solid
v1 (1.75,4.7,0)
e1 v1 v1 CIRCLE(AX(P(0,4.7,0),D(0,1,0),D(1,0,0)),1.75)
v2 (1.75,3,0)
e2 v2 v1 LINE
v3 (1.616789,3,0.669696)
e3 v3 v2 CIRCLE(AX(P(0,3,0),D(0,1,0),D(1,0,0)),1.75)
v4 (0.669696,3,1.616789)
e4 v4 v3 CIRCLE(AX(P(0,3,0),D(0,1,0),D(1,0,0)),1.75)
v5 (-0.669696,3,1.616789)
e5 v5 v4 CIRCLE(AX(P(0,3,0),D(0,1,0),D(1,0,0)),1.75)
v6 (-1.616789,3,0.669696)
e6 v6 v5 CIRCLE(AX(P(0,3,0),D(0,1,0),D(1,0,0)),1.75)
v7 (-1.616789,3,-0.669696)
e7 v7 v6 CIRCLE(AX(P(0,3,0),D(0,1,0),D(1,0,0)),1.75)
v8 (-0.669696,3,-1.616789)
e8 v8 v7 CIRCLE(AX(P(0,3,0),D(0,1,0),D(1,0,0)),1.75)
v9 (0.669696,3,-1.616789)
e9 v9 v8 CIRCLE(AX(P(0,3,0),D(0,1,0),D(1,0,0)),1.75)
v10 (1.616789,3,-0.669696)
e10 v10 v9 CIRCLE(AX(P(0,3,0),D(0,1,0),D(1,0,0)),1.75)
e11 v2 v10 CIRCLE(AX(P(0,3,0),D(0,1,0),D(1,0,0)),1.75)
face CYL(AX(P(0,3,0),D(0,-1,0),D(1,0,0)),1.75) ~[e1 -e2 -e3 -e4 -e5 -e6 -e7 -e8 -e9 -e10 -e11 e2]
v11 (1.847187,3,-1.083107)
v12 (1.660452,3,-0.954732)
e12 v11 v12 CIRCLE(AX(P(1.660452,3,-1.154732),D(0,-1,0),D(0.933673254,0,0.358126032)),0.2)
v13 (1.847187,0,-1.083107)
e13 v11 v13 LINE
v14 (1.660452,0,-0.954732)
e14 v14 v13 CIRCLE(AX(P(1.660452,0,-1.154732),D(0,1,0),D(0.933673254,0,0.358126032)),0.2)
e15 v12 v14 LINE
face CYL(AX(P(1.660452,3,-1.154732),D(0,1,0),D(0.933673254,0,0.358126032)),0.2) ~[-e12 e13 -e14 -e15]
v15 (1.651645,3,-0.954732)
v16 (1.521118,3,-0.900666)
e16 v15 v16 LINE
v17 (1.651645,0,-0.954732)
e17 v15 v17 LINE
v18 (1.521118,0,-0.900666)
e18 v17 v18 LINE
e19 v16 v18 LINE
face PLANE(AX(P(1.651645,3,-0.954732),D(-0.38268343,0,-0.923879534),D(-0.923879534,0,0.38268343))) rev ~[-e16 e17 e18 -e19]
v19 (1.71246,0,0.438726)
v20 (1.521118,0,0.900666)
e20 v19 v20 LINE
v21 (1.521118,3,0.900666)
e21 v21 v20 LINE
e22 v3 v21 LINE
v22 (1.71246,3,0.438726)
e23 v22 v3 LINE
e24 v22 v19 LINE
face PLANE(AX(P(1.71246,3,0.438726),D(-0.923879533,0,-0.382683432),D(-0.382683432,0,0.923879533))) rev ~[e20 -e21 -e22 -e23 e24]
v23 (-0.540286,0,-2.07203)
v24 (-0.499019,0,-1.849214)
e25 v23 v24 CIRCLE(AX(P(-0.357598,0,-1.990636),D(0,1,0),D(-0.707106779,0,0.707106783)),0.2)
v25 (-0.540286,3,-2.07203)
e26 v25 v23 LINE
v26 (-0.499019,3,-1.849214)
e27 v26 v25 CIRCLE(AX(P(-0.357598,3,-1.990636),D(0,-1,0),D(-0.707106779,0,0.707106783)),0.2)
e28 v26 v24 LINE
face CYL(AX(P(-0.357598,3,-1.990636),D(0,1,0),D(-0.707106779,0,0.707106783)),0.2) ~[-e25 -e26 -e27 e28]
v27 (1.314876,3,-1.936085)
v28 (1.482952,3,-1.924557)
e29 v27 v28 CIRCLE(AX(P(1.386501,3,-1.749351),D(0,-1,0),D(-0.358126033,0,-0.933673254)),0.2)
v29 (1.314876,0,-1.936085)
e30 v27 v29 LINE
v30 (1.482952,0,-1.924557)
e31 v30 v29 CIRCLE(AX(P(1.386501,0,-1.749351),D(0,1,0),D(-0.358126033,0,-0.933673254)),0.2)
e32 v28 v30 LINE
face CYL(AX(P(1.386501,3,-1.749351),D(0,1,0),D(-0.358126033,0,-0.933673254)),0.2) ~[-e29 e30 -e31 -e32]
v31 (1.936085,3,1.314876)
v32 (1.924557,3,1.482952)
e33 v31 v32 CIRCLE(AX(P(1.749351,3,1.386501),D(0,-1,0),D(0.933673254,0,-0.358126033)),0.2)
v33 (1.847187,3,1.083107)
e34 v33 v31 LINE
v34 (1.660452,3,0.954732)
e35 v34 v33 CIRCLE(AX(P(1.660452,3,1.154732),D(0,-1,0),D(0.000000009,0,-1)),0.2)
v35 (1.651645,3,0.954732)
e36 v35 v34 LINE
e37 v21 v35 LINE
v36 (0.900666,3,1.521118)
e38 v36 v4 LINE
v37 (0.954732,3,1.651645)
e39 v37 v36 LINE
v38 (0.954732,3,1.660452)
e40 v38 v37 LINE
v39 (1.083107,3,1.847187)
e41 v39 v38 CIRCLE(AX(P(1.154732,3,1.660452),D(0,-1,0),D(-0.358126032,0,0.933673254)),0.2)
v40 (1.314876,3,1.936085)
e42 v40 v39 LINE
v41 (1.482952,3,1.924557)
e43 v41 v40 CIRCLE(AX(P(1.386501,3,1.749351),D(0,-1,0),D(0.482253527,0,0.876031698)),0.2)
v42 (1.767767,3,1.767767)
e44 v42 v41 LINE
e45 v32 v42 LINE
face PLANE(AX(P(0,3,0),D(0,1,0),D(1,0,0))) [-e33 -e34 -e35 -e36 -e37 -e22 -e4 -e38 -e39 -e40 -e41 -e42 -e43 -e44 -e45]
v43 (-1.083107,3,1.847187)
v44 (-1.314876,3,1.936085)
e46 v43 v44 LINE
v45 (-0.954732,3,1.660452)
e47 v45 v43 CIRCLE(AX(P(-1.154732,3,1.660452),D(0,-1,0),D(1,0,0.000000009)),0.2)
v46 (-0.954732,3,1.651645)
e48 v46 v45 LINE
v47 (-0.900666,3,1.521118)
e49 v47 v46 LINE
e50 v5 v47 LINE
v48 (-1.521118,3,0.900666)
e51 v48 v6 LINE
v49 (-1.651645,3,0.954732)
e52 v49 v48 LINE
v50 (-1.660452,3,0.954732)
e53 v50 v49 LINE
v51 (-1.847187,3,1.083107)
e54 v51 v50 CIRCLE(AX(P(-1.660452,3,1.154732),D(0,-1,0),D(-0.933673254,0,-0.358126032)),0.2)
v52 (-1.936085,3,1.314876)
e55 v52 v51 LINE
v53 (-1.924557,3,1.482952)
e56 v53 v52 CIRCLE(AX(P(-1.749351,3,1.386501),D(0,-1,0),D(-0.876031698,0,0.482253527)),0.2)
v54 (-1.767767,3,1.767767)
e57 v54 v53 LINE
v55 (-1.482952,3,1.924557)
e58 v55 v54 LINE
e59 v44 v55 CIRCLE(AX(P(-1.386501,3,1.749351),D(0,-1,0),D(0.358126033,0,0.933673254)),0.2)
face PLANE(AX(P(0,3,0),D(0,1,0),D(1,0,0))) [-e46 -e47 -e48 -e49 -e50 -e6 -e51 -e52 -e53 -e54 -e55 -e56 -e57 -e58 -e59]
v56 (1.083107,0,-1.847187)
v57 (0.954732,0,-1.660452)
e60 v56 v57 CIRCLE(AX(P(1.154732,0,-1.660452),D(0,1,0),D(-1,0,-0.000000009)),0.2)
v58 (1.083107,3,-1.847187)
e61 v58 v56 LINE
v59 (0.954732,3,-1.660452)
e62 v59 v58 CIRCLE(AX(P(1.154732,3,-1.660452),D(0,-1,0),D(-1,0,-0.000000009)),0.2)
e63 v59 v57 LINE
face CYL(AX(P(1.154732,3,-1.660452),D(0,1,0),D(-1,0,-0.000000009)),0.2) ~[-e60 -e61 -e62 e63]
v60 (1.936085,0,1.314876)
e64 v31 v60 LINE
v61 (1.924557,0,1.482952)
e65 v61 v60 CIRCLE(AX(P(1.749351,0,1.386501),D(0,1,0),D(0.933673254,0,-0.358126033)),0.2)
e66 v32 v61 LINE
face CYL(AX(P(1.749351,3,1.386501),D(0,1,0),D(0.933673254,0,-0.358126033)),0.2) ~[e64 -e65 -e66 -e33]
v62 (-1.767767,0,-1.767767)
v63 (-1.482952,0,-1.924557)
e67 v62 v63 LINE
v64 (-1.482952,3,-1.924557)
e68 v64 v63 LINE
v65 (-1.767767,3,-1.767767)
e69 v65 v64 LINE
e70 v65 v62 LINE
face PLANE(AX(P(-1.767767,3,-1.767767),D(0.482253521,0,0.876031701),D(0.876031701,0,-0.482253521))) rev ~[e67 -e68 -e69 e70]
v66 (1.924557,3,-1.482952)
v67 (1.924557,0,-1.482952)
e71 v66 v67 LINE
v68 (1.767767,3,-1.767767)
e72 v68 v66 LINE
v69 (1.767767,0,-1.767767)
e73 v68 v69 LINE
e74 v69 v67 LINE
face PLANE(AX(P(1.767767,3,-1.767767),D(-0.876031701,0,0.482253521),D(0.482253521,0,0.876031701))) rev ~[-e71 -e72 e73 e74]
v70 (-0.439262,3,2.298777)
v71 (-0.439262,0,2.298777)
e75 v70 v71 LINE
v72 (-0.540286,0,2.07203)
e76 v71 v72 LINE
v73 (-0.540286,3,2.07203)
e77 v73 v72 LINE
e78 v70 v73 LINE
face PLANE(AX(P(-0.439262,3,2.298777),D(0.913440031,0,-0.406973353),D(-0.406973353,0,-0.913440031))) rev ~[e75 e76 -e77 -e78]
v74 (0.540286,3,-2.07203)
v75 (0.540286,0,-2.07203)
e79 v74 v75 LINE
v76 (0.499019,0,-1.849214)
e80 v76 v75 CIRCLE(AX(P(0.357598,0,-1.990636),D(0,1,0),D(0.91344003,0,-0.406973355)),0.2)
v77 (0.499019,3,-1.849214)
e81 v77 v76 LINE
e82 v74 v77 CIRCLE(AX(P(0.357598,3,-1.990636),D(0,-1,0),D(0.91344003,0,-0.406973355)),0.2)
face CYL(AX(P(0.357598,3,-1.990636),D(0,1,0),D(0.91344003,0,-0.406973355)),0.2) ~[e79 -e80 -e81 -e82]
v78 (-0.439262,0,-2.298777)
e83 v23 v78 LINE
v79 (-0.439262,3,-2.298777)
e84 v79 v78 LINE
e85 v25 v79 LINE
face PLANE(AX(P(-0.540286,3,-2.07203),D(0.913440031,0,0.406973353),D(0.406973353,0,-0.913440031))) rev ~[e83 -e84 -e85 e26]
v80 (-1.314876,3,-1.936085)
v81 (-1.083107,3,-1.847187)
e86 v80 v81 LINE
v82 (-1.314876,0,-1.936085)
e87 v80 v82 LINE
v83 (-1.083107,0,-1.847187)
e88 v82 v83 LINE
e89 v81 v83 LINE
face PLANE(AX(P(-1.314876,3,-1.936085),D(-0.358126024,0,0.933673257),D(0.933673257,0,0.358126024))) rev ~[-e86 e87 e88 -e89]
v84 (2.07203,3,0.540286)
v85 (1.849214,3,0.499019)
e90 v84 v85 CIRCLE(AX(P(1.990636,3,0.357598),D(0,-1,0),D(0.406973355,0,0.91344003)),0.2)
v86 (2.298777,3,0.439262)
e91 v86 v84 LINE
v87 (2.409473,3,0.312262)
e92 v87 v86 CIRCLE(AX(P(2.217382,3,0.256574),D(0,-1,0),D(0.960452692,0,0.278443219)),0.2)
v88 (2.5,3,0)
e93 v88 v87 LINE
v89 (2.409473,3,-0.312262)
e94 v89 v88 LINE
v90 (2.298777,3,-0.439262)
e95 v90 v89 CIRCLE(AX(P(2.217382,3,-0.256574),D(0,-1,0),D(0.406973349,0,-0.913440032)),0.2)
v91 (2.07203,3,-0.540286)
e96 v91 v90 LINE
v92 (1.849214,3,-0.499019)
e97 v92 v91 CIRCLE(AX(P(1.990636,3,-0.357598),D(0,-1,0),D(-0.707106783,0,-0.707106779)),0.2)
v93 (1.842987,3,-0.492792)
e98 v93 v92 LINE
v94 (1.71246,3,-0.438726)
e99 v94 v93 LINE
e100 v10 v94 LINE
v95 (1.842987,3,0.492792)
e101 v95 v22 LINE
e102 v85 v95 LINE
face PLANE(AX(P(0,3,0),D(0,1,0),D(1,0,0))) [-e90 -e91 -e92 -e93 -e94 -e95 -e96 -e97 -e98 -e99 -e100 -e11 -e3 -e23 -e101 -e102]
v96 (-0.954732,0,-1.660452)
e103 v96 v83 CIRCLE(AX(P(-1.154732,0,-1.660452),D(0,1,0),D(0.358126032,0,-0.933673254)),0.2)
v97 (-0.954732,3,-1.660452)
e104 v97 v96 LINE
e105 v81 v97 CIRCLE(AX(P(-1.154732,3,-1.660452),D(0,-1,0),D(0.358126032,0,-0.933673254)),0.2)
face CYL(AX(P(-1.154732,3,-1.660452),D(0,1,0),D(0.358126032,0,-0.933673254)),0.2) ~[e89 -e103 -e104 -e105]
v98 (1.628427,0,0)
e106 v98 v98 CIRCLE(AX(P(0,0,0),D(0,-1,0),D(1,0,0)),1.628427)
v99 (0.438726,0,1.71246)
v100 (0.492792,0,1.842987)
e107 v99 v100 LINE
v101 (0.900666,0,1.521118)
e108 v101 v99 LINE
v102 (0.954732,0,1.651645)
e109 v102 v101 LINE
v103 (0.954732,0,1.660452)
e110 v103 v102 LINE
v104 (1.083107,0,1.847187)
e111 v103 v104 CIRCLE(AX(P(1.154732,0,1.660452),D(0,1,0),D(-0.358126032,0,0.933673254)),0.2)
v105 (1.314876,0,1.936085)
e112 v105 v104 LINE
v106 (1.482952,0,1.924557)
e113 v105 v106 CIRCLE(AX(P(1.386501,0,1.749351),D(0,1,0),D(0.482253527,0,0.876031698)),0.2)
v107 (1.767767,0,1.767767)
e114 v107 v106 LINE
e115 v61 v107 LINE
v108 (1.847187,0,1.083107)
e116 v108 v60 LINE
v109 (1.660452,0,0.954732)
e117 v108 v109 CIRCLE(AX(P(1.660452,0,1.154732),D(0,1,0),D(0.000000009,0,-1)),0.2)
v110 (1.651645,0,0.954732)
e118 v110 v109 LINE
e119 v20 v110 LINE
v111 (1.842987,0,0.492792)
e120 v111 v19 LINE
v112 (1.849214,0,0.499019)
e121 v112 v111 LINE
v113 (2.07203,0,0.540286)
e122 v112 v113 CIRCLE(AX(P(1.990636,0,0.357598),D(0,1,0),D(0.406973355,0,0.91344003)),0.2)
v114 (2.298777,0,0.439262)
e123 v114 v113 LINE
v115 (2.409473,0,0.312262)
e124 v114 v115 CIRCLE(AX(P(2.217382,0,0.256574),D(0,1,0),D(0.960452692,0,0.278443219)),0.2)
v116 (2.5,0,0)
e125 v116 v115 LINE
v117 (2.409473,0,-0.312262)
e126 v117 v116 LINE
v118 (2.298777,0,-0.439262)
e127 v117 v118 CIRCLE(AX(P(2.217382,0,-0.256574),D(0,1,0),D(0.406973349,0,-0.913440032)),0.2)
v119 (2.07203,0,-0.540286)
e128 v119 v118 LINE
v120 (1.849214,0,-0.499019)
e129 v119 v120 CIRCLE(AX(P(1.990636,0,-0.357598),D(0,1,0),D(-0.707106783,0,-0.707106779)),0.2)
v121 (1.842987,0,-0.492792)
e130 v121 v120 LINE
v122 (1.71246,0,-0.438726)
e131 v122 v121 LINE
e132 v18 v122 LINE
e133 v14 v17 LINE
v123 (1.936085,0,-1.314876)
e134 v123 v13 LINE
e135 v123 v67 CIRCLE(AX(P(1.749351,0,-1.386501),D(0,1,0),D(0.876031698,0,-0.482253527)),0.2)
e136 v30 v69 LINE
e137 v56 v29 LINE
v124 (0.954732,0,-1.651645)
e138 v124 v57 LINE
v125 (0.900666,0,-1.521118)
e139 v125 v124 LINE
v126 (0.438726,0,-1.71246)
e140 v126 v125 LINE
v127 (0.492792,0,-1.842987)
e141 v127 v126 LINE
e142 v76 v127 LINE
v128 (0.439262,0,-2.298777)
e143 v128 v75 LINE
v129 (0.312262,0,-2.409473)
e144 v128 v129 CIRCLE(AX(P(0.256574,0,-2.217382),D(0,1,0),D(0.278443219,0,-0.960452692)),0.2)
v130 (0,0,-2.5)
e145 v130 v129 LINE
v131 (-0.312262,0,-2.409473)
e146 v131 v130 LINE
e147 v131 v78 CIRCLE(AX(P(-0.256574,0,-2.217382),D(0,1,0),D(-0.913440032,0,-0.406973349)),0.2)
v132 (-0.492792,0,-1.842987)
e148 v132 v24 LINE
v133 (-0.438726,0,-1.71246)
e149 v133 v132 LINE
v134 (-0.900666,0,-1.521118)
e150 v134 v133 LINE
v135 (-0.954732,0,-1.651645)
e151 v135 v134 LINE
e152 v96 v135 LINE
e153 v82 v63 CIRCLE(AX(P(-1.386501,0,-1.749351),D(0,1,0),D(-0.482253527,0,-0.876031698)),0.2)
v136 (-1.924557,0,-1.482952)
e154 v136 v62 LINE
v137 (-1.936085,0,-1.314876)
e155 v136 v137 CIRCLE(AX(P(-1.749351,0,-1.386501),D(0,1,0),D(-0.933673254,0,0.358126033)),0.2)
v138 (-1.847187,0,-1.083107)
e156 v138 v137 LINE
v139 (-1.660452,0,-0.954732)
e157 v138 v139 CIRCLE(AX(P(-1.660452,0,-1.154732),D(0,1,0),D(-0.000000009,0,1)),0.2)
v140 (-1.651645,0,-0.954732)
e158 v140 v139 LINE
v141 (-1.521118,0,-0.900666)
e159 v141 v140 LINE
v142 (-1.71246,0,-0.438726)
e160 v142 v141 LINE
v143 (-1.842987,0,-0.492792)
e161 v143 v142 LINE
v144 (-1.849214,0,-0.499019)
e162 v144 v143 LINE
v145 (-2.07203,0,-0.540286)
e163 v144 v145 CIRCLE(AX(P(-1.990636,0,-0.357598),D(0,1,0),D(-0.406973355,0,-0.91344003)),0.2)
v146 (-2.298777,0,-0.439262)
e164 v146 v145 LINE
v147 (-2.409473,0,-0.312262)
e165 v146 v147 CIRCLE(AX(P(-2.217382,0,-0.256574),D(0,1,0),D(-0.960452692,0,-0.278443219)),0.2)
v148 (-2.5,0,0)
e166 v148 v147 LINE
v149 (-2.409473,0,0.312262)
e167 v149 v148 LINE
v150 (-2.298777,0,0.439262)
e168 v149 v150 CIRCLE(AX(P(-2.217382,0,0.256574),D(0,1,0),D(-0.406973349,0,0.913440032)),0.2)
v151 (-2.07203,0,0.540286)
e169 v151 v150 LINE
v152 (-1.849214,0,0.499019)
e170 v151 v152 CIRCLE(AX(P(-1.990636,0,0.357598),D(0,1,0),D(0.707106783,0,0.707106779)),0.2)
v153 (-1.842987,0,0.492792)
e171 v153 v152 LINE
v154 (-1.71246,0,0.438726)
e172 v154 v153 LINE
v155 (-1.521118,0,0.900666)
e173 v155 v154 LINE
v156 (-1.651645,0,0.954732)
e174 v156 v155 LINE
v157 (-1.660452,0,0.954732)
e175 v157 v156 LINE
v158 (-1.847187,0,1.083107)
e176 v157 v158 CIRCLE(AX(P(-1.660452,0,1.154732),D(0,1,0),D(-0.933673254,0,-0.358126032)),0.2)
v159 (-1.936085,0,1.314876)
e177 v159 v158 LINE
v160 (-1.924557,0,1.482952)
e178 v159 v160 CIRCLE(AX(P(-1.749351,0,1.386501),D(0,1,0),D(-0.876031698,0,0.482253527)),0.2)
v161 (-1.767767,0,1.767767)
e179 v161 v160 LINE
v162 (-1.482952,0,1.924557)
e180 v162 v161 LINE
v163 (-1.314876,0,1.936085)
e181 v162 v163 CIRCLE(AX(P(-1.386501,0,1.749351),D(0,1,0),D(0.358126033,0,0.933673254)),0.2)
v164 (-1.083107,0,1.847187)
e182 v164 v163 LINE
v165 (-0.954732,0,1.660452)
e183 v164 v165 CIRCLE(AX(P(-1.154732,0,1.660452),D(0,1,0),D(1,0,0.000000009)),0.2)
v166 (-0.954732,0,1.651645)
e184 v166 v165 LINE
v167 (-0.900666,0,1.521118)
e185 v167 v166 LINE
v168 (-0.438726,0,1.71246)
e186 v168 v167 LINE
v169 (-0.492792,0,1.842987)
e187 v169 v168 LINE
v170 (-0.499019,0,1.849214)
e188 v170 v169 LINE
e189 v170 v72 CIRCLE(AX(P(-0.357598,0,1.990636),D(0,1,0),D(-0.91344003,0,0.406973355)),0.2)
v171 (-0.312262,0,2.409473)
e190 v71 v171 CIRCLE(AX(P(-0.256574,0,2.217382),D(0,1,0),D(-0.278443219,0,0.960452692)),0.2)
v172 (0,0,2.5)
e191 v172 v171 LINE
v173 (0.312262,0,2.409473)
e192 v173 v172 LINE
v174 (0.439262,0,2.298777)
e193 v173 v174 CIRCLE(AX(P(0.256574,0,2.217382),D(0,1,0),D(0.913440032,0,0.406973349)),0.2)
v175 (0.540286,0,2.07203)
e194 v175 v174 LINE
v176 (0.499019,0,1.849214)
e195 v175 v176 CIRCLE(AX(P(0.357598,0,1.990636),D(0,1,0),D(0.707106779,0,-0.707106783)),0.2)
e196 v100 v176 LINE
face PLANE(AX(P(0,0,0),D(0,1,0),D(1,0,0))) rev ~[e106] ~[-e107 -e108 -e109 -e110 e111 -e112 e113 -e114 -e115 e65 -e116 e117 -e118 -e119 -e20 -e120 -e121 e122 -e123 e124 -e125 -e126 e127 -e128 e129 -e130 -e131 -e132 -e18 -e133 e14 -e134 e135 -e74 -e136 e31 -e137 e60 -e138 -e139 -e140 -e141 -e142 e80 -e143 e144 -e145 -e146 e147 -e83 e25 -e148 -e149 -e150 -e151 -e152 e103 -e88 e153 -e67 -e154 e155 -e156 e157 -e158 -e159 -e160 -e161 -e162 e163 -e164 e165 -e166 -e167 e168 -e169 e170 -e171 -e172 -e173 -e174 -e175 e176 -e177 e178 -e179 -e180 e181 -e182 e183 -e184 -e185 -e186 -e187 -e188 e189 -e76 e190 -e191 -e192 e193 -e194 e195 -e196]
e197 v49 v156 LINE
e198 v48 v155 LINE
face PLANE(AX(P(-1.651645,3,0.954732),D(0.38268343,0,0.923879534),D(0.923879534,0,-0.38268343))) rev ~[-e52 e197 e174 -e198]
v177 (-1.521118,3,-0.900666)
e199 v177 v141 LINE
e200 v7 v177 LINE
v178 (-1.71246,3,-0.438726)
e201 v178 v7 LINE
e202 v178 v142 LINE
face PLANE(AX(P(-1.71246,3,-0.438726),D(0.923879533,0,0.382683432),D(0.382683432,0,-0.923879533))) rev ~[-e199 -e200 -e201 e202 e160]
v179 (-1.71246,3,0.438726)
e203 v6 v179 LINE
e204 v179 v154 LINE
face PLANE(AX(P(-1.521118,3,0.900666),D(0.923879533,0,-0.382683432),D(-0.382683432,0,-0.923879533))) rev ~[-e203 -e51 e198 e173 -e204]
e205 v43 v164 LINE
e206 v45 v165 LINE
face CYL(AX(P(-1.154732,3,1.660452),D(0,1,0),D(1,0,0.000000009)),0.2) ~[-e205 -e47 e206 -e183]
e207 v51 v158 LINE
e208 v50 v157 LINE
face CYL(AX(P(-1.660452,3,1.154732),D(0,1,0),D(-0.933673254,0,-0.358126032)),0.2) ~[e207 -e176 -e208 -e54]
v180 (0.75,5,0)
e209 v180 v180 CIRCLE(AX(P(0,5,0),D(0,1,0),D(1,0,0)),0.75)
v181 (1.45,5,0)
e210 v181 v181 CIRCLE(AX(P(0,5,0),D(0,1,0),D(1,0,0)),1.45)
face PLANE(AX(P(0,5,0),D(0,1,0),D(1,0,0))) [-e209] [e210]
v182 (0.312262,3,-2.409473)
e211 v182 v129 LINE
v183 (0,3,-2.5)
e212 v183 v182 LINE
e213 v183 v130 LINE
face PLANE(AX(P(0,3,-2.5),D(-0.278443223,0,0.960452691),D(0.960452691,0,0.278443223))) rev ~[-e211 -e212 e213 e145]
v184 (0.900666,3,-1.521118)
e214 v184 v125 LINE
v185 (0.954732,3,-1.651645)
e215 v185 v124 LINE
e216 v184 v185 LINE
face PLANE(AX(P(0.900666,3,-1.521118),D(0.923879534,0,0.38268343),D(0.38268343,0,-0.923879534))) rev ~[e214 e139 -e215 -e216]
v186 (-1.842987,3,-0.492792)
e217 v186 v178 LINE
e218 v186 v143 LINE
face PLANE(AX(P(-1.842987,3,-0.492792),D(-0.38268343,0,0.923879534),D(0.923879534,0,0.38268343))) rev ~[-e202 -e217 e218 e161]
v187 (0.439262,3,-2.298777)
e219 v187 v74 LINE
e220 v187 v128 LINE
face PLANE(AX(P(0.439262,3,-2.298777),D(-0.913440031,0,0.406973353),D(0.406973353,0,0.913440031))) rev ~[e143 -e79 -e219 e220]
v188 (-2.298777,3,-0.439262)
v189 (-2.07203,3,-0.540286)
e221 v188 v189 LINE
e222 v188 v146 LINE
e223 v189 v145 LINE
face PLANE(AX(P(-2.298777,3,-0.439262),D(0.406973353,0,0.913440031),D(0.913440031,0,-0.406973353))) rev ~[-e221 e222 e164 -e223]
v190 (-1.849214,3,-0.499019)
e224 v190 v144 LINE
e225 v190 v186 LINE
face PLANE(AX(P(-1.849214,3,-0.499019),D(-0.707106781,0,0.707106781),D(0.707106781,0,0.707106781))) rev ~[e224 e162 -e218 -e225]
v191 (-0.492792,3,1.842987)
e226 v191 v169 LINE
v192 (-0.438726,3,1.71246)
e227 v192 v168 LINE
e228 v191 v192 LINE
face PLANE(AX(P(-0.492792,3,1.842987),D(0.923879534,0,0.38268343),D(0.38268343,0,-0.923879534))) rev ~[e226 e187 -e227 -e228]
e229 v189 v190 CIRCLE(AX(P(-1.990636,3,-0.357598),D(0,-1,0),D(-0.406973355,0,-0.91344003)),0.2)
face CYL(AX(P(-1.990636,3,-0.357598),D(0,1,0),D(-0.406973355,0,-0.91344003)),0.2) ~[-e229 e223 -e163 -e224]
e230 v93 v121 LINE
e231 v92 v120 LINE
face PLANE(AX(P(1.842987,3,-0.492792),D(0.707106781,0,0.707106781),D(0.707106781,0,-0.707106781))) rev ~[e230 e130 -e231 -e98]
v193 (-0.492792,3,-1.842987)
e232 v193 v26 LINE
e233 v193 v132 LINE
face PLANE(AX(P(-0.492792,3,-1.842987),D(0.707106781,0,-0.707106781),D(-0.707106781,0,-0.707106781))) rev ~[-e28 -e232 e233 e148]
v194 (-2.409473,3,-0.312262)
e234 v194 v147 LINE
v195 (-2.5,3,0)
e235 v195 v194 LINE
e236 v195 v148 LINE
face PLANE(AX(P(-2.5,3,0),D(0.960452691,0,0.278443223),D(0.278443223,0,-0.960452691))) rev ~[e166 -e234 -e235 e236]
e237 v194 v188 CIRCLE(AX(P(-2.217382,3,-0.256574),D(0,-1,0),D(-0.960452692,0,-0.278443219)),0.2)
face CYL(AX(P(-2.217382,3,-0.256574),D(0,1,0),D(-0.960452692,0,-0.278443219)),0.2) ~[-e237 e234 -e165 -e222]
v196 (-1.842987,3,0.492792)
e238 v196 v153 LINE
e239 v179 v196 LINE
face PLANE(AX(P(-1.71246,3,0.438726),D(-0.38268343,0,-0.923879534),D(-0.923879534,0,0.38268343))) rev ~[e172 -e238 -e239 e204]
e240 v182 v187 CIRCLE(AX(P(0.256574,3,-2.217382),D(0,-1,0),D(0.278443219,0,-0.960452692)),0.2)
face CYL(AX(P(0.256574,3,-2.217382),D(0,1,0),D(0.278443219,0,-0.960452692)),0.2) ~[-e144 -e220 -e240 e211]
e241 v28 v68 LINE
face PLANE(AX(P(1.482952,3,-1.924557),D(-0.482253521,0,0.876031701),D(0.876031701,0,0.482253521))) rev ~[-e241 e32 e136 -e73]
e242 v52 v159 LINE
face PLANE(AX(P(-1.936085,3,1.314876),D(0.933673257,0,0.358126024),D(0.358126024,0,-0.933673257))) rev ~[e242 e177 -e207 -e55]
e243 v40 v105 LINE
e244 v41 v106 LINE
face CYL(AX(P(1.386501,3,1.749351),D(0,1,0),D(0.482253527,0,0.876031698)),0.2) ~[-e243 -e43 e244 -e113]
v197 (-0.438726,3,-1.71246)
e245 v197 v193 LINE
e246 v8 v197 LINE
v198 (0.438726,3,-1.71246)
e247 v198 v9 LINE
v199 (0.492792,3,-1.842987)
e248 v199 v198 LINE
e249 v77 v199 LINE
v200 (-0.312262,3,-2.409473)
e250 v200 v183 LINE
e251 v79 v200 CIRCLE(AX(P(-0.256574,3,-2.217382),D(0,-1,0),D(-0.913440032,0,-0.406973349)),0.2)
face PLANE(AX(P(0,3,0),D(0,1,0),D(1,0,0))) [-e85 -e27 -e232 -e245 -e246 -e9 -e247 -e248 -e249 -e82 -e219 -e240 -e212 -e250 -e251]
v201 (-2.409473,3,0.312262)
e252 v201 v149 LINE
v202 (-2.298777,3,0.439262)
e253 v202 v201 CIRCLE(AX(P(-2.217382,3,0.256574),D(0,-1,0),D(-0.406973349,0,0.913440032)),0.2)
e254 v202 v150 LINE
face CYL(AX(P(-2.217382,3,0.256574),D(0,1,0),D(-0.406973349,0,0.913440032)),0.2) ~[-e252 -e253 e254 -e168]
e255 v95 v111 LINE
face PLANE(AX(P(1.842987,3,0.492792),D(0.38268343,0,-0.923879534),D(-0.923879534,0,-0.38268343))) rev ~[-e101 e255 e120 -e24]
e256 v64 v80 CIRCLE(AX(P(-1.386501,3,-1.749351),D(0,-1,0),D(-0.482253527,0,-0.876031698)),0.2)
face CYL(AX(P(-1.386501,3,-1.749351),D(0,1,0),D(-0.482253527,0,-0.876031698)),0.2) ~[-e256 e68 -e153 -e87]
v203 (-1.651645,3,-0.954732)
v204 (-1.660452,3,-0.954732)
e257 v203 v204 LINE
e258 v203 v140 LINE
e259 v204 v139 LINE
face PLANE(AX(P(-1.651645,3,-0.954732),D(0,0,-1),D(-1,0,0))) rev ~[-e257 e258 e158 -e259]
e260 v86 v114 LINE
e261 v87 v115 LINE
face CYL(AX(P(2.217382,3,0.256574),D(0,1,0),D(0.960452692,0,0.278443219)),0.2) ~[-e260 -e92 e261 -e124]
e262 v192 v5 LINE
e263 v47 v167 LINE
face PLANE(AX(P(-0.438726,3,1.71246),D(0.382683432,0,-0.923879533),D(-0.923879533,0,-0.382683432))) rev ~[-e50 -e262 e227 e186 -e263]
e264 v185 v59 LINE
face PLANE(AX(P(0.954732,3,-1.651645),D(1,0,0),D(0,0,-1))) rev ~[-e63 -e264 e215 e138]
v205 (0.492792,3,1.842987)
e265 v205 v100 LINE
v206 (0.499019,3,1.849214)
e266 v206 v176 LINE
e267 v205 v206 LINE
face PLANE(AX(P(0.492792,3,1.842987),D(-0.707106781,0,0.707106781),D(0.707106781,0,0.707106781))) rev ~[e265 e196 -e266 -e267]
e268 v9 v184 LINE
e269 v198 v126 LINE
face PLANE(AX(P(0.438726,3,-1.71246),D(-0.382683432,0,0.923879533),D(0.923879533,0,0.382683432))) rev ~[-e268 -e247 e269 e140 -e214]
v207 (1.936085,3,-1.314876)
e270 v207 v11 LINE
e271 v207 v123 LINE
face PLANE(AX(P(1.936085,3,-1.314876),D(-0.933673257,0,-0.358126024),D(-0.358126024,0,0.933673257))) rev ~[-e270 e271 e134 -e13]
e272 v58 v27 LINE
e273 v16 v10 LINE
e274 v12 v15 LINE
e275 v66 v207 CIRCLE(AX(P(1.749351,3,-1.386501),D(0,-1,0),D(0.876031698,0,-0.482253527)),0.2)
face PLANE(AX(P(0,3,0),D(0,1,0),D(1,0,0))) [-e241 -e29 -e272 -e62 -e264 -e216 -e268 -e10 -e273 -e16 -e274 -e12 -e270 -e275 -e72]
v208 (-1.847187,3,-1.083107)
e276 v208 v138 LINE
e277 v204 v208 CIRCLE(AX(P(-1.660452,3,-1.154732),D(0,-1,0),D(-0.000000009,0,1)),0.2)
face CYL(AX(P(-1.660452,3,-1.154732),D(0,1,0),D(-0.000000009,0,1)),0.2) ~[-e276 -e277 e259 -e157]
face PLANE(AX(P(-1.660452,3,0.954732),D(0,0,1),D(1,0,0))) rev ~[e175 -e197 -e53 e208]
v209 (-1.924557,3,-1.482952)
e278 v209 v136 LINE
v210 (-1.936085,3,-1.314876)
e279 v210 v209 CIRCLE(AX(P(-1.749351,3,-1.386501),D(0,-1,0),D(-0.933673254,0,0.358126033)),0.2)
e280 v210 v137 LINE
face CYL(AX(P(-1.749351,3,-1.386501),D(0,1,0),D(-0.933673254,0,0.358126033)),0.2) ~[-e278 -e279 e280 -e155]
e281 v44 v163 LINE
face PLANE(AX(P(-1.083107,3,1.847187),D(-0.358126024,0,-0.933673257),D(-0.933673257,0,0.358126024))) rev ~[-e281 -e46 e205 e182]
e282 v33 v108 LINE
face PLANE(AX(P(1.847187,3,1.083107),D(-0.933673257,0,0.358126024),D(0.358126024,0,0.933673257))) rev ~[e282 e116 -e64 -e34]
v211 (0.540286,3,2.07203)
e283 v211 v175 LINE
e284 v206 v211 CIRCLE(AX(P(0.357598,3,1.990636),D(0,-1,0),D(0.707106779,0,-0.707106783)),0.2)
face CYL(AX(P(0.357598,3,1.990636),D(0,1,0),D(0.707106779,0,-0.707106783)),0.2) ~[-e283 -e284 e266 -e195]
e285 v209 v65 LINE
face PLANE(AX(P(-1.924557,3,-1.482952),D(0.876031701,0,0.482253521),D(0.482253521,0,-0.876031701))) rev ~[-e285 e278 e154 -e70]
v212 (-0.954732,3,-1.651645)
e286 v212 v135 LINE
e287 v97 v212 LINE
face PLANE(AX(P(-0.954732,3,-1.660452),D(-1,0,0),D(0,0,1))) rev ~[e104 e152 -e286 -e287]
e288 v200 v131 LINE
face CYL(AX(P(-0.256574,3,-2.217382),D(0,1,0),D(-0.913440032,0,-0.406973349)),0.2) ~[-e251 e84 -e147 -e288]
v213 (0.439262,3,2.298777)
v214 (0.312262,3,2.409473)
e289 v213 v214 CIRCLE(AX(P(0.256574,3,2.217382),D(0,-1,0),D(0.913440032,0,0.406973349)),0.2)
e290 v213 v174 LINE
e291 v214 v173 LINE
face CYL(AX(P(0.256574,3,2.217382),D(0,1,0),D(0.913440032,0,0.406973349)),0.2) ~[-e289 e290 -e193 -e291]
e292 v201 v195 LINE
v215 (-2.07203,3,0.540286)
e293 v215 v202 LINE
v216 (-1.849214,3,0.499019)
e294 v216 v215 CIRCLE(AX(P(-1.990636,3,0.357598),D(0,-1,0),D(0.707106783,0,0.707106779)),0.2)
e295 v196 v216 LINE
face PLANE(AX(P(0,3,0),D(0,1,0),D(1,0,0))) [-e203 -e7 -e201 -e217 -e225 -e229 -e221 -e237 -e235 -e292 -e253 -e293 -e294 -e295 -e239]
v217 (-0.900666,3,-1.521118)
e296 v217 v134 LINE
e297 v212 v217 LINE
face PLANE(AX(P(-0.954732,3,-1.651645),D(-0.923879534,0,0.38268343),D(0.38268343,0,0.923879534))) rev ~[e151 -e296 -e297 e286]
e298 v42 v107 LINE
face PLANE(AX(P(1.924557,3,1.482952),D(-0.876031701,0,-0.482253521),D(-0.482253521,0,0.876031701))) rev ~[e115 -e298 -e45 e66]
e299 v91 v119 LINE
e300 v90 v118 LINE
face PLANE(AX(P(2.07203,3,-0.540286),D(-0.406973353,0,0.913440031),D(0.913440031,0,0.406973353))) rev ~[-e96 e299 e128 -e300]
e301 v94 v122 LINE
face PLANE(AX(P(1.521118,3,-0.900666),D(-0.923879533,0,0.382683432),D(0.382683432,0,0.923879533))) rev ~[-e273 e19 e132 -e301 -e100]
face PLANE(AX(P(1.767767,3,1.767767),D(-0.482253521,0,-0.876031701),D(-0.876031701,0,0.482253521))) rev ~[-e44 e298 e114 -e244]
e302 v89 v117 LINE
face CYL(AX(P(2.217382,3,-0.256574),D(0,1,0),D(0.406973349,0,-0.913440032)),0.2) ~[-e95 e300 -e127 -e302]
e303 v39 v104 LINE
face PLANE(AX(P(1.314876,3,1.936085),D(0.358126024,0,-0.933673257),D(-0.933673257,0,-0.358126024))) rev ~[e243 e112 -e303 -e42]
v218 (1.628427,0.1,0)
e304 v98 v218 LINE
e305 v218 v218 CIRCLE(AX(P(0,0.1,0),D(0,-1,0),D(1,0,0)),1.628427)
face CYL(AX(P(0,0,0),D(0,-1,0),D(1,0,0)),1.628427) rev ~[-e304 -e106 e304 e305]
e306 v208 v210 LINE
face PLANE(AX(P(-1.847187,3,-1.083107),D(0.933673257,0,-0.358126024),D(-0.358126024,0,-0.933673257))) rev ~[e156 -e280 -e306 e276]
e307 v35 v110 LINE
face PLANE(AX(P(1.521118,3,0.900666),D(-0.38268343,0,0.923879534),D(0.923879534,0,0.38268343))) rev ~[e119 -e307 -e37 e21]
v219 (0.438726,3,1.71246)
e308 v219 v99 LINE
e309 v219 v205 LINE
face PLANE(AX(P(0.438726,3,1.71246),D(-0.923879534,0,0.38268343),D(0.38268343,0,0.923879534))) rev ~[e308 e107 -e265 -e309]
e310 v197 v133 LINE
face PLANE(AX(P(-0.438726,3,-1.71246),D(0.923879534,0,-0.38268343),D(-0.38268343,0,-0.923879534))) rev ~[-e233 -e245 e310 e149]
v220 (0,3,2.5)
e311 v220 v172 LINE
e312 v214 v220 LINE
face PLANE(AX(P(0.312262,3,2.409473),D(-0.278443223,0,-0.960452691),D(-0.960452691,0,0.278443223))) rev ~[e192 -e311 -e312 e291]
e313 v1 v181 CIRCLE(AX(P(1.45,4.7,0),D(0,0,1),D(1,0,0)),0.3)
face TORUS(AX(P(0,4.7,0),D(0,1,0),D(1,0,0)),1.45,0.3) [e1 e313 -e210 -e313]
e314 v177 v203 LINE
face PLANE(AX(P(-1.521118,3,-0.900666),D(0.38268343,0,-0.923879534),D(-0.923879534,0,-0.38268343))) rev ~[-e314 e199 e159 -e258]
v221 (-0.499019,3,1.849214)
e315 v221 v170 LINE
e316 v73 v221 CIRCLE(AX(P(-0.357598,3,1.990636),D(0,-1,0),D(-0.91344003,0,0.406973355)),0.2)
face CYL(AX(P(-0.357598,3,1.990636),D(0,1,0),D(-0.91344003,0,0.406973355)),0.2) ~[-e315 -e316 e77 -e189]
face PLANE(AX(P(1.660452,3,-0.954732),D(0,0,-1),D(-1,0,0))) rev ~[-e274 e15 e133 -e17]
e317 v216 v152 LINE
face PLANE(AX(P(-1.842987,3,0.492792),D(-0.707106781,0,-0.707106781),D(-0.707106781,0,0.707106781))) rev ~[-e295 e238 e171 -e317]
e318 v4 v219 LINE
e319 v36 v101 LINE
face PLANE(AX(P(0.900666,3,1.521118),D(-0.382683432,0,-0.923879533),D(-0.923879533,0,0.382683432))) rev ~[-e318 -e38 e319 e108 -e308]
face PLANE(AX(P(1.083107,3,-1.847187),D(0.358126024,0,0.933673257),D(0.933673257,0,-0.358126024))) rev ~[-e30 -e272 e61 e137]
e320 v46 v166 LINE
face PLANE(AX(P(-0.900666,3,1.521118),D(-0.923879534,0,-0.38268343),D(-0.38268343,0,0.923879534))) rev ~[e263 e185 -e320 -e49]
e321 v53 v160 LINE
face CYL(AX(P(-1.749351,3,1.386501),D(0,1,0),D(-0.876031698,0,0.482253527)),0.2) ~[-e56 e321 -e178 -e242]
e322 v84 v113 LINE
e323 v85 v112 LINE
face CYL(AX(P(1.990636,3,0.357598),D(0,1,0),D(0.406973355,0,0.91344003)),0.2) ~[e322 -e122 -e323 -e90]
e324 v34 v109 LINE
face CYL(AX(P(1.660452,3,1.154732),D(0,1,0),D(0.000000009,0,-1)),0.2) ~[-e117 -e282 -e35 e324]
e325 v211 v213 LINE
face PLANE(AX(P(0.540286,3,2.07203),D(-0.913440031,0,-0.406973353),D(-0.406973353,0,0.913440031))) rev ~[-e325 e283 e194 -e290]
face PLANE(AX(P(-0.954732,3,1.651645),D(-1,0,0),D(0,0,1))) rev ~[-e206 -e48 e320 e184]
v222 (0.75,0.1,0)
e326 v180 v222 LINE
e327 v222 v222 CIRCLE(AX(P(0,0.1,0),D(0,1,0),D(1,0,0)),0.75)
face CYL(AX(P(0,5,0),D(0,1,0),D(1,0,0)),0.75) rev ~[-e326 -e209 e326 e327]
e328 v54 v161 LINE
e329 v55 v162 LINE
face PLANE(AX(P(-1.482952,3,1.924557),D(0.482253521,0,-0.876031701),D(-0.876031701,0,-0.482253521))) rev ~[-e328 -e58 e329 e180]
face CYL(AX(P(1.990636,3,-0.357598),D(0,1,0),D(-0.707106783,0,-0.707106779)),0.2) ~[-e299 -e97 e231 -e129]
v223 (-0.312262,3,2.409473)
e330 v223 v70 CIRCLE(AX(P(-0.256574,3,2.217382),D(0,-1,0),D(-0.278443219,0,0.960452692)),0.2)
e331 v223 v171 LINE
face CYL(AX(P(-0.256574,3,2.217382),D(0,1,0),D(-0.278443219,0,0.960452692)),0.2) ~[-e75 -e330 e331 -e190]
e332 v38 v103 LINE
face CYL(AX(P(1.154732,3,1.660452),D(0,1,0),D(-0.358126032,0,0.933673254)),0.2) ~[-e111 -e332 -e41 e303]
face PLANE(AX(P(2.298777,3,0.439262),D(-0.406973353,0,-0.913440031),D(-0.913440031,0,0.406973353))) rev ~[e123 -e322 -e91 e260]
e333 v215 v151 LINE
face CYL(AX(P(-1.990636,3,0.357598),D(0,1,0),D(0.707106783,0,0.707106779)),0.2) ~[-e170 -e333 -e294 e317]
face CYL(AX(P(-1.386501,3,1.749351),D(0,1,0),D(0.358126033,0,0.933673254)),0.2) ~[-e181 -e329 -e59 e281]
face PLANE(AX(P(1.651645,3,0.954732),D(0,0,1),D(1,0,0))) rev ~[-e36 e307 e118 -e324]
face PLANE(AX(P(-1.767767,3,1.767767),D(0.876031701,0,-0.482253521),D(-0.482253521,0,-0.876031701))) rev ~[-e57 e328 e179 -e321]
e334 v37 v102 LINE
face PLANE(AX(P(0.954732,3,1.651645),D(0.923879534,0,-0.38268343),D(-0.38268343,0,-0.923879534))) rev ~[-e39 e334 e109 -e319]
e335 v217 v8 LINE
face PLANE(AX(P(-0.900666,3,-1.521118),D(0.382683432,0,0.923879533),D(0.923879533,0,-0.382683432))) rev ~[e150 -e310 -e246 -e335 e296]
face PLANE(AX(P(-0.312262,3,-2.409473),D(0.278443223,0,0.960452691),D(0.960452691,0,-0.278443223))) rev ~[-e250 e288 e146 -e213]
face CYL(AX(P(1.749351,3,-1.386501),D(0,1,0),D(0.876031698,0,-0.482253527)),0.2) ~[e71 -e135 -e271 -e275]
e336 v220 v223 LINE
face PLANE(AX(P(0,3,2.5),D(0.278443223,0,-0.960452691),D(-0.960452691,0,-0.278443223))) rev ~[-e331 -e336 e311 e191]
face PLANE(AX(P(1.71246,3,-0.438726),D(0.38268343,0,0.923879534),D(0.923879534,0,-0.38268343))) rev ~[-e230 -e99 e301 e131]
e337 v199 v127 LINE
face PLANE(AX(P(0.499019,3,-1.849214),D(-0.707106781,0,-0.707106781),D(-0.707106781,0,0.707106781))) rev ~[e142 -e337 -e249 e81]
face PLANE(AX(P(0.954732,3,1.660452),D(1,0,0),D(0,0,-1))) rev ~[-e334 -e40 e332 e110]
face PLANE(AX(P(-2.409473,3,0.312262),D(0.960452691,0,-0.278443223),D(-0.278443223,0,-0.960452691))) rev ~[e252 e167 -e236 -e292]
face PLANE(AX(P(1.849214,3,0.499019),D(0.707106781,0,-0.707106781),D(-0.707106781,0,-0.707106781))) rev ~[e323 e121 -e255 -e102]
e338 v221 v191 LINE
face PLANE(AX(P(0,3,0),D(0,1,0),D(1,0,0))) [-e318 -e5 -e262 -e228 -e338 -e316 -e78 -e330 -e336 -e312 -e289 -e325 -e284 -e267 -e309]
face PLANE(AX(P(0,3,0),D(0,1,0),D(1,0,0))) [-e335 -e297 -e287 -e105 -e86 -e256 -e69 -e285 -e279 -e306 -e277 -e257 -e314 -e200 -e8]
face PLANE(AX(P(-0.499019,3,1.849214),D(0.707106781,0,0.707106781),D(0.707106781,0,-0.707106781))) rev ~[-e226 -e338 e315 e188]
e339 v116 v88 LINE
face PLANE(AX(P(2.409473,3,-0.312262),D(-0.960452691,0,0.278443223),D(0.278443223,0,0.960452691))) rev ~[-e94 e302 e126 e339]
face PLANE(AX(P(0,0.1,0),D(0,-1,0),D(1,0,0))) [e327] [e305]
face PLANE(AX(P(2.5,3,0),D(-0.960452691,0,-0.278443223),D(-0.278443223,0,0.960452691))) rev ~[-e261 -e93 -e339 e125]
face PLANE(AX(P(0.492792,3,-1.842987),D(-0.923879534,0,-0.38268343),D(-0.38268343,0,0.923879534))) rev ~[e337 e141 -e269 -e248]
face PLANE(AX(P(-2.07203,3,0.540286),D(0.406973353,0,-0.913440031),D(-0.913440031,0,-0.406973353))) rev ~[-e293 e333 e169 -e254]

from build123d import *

# Parameters (mm, degrees)
SKETCH1_R           = 2.5
BOSS_EXTRUDE1_DEPTH = 3
SKETCH2_R           = 1.75
BOSS_EXTRUDE2_DEPTH = 2
SKETCH3_R           = 0.75
CUT_EXTRUDE1_DEPTH  = 6
SKETCH4_R           = 2.750200345
CUT_EXTRUDE3_DEPTH  = 4
SKETCH5_R           = 1.628426881
CUT_EXTRUDE4_DEPTH  = 0.1
FILLET1_R           = 0.3


with BuildPart() as part:
    # Sketch1 → Boss-Extrude1 (new body)
    with BuildSketch(Plane(origin=(0, 0, 0), x_dir=(1, 0, 0), z_dir=(0, 1, 0))):
        Circle(SKETCH1_R)
    extrude(amount=BOSS_EXTRUDE1_DEPTH)

    # Sketch2 → Boss-Extrude2 (add)
    with BuildSketch(Plane(origin=(0, 3, 0), x_dir=(1, 0, 0), z_dir=(0, 1, 0))):
        Circle(SKETCH2_R)
    extrude(amount=BOSS_EXTRUDE2_DEPTH)

    # Sketch3 → Cut-Extrude1 (cut, through all)
    with BuildSketch(Plane(origin=(0, 5, 0), x_dir=(1, 0, 0), z_dir=(0, 1, 0))):
        Circle(SKETCH3_R)
    extrude(amount=-CUT_EXTRUDE1_DEPTH, mode=Mode.SUBTRACT)

    # Sketch4 → Cut-Extrude3 (cut, through all)
    with BuildSketch(Plane(origin=(0, 3, 0), x_dir=(1, 0, 0), z_dir=(0, 1, 0))):
        Circle(SKETCH4_R)
        with BuildLine():
            Line((-1.71246004, 0.438726124), (-1.521118324, 0.90066589))
            Line((-1.521118324, 0.90066589), (-1.651645181, 0.954731884))
            Line((-1.651645181, 0.954731884), (-1.660451872, 0.954731884))
            ThreePointArc((-1.660451872, 0.954731884), (-1.773754473, 0.989921325), (-1.847186523, 1.083106679))
            Line((-1.847186523, 1.083106679), (-1.936085443, 1.314875773))
            ThreePointArc((-1.936085443, 1.314875773), (-1.948881988, 1.400186804), (-1.924557132, 1.482951682))
            Line((-1.924557132, 1.482951682), (-1.767766953, 1.767766953))
            Line((-1.767766953, 1.767766953), (-1.482951682, 1.924557132))
            ThreePointArc((-1.482951682, 1.924557132), (-1.400186804, 1.948881988), (-1.314875773, 1.936085443))
            Line((-1.314875773, 1.936085443), (-1.083106679, 1.847186523))
            ThreePointArc((-1.083106679, 1.847186523), (-0.989921325, 1.773754473), (-0.954731884, 1.660451872))
            Line((-0.954731884, 1.660451872), (-0.954731884, 1.651645181))
            Line((-0.954731884, 1.651645181), (-0.90066589, 1.521118324))
            Line((-0.90066589, 1.521118324), (-0.438726124, 1.71246004))
            Line((-0.438726124, 1.71246004), (-0.492792118, 1.842986897))
            Line((-0.492792118, 1.842986897), (-0.499019389, 1.849214168))
            ThreePointArc((-0.499019389, 1.849214168), (-0.554253735, 1.954213898), (-0.540286039, 2.072030195))
            Line((-0.540286039, 2.072030195), (-0.43926157, 2.298776721))
            ThreePointArc((-0.43926157, 2.298776721), (-0.387986085, 2.368149253), (-0.312262208, 2.409472589))
            Line((-0.312262208, 2.409472589), (0, 2.5))
            Line((0, 2.5), (0.312262208, 2.409472589))
            ThreePointArc((0.312262208, 2.409472589), (0.387986085, 2.368149253), (0.43926157, 2.298776721))
            Line((0.43926157, 2.298776721), (0.540286039, 2.072030195))
            ThreePointArc((0.540286039, 2.072030195), (0.554253735, 1.954213898), (0.499019389, 1.849214168))
            Line((0.499019389, 1.849214168), (0.492792118, 1.842986897))
            Line((0.492792118, 1.842986897), (0.438726124, 1.71246004))
            Line((0.438726124, 1.71246004), (0.90066589, 1.521118324))
            Line((0.90066589, 1.521118324), (0.954731884, 1.651645181))
            Line((0.954731884, 1.651645181), (0.954731884, 1.660451872))
            ThreePointArc((0.954731884, 1.660451872), (0.989921325, 1.773754473), (1.083106679, 1.847186523))
            Line((1.083106679, 1.847186523), (1.314875773, 1.936085443))
            ThreePointArc((1.314875773, 1.936085443), (1.400186804, 1.948881988), (1.482951682, 1.924557132))
            Line((1.482951682, 1.924557132), (1.767766953, 1.767766953))
            Line((1.767766953, 1.767766953), (1.924557132, 1.482951682))
            ThreePointArc((1.924557132, 1.482951682), (1.948881988, 1.400186804), (1.936085443, 1.314875773))
            Line((1.936085443, 1.314875773), (1.847186523, 1.083106679))
            ThreePointArc((1.847186523, 1.083106679), (1.773754473, 0.989921325), (1.660451872, 0.954731884))
            Line((1.660451872, 0.954731884), (1.651645181, 0.954731884))
            Line((1.651645181, 0.954731884), (1.521118324, 0.90066589))
            Line((1.521118324, 0.90066589), (1.71246004, 0.438726124))
            Line((1.71246004, 0.438726124), (1.842986897, 0.492792118))
            Line((1.842986897, 0.492792118), (1.849214168, 0.499019389))
            ThreePointArc((1.849214168, 0.499019389), (1.954213898, 0.554253735), (2.072030195, 0.540286039))
            Line((2.072030195, 0.540286039), (2.298776721, 0.43926157))
            ThreePointArc((2.298776721, 0.43926157), (2.368149253, 0.387986085), (2.409472589, 0.312262208))
            Line((2.409472589, 0.312262208), (2.5, 0))
            Line((2.5, 0), (2.409472589, -0.312262208))
            ThreePointArc((2.409472589, -0.312262208), (2.368149253, -0.387986085), (2.298776721, -0.43926157))
            Line((2.298776721, -0.43926157), (2.072030195, -0.540286039))
            ThreePointArc((2.072030195, -0.540286039), (1.954213898, -0.554253735), (1.849214168, -0.499019389))
            Line((1.849214168, -0.499019389), (1.842986897, -0.492792118))
            Line((1.842986897, -0.492792118), (1.71246004, -0.438726124))
            Line((1.71246004, -0.438726124), (1.521118324, -0.90066589))
            Line((1.521118324, -0.90066589), (1.651645181, -0.954731884))
            Line((1.651645181, -0.954731884), (1.660451872, -0.954731884))
            ThreePointArc((1.660451872, -0.954731884), (1.773754473, -0.989921325), (1.847186523, -1.083106679))
            Line((1.847186523, -1.083106679), (1.936085443, -1.314875773))
            ThreePointArc((1.936085443, -1.314875773), (1.948881988, -1.400186804), (1.924557132, -1.482951682))
            Line((1.924557132, -1.482951682), (1.767766953, -1.767766953))
            Line((1.767766953, -1.767766953), (1.482951682, -1.924557132))
            ThreePointArc((1.482951682, -1.924557132), (1.400186804, -1.948881988), (1.314875773, -1.936085443))
            Line((1.314875773, -1.936085443), (1.083106679, -1.847186523))
            ThreePointArc((1.083106679, -1.847186523), (0.989921325, -1.773754473), (0.954731884, -1.660451872))
            Line((0.954731884, -1.660451872), (0.954731884, -1.651645181))
            Line((0.954731884, -1.651645181), (0.90066589, -1.521118324))
            Line((0.90066589, -1.521118324), (0.438726124, -1.71246004))
            Line((0.438726124, -1.71246004), (0.492792118, -1.842986897))
            Line((0.492792118, -1.842986897), (0.499019389, -1.849214168))
            ThreePointArc((0.499019389, -1.849214168), (0.554253735, -1.954213898), (0.540286039, -2.072030195))
            Line((0.540286039, -2.072030195), (0.43926157, -2.298776721))
            ThreePointArc((0.43926157, -2.298776721), (0.387986085, -2.368149253), (0.312262208, -2.409472589))
            Line((0.312262208, -2.409472589), (0, -2.5))
            Line((0, -2.5), (-0.312262208, -2.409472589))
            ThreePointArc((-0.312262208, -2.409472589), (-0.387986085, -2.368149253), (-0.43926157, -2.298776721))
            Line((-0.43926157, -2.298776721), (-0.540286039, -2.072030195))
            ThreePointArc((-0.540286039, -2.072030195), (-0.554253735, -1.954213898), (-0.499019389, -1.849214168))
            Line((-0.499019389, -1.849214168), (-0.492792118, -1.842986897))
            Line((-0.492792118, -1.842986897), (-0.438726124, -1.71246004))
            Line((-0.438726124, -1.71246004), (-0.90066589, -1.521118324))
            Line((-0.90066589, -1.521118324), (-0.954731884, -1.651645181))
            Line((-0.954731884, -1.651645181), (-0.954731884, -1.660451872))
            ThreePointArc((-0.954731884, -1.660451872), (-0.989921325, -1.773754473), (-1.083106679, -1.847186523))
            Line((-1.083106679, -1.847186523), (-1.314875773, -1.936085443))
            ThreePointArc((-1.314875773, -1.936085443), (-1.400186804, -1.948881988), (-1.482951682, -1.924557132))
            Line((-1.482951682, -1.924557132), (-1.767766953, -1.767766953))
            Line((-1.767766953, -1.767766953), (-1.924557132, -1.482951682))
            ThreePointArc((-1.924557132, -1.482951682), (-1.948881988, -1.400186804), (-1.936085443, -1.314875773))
            Line((-1.936085443, -1.314875773), (-1.847186523, -1.083106679))
            ThreePointArc((-1.847186523, -1.083106679), (-1.773754473, -0.989921325), (-1.660451872, -0.954731884))
            Line((-1.660451872, -0.954731884), (-1.651645181, -0.954731884))
            Line((-1.651645181, -0.954731884), (-1.521118324, -0.90066589))
            Line((-1.521118324, -0.90066589), (-1.71246004, -0.438726124))
            Line((-1.71246004, -0.438726124), (-1.842986897, -0.492792118))
            Line((-1.842986897, -0.492792118), (-1.849214168, -0.499019389))
            ThreePointArc((-1.849214168, -0.499019389), (-1.954213898, -0.554253735), (-2.072030195, -0.540286039))
            Line((-2.072030195, -0.540286039), (-2.298776721, -0.43926157))
            ThreePointArc((-2.298776721, -0.43926157), (-2.368149253, -0.387986085), (-2.409472589, -0.312262208))
            Line((-2.409472589, -0.312262208), (-2.5, 0))
            Line((-2.5, 0), (-2.409472589, 0.312262208))
            ThreePointArc((-2.409472589, 0.312262208), (-2.368149253, 0.387986085), (-2.298776721, 0.43926157))
            Line((-2.298776721, 0.43926157), (-2.072030195, 0.540286039))
            ThreePointArc((-2.072030195, 0.540286039), (-1.954213898, 0.554253735), (-1.849214168, 0.499019389))
            Line((-1.849214168, 0.499019389), (-1.842986897, 0.492792118))
            Line((-1.842986897, 0.492792118), (-1.71246004, 0.438726124))
        make_face(mode=Mode.SUBTRACT)
    extrude(amount=-CUT_EXTRUDE3_DEPTH, mode=Mode.SUBTRACT)

    # Sketch5 → Cut-Extrude4 (cut)
    with BuildSketch(Plane.XZ):
        Circle(SKETCH5_R)
    extrude(amount=-CUT_EXTRUDE4_DEPTH, mode=Mode.SUBTRACT)

    # Fillet1
    fillet1_edges = [part.edges().sort_by_distance(p)[0] for p in [
        (-1.75, 5, 0),
    ]]
    fillet(fillet1_edges, radius=FILLET1_R)


solid = part.part
